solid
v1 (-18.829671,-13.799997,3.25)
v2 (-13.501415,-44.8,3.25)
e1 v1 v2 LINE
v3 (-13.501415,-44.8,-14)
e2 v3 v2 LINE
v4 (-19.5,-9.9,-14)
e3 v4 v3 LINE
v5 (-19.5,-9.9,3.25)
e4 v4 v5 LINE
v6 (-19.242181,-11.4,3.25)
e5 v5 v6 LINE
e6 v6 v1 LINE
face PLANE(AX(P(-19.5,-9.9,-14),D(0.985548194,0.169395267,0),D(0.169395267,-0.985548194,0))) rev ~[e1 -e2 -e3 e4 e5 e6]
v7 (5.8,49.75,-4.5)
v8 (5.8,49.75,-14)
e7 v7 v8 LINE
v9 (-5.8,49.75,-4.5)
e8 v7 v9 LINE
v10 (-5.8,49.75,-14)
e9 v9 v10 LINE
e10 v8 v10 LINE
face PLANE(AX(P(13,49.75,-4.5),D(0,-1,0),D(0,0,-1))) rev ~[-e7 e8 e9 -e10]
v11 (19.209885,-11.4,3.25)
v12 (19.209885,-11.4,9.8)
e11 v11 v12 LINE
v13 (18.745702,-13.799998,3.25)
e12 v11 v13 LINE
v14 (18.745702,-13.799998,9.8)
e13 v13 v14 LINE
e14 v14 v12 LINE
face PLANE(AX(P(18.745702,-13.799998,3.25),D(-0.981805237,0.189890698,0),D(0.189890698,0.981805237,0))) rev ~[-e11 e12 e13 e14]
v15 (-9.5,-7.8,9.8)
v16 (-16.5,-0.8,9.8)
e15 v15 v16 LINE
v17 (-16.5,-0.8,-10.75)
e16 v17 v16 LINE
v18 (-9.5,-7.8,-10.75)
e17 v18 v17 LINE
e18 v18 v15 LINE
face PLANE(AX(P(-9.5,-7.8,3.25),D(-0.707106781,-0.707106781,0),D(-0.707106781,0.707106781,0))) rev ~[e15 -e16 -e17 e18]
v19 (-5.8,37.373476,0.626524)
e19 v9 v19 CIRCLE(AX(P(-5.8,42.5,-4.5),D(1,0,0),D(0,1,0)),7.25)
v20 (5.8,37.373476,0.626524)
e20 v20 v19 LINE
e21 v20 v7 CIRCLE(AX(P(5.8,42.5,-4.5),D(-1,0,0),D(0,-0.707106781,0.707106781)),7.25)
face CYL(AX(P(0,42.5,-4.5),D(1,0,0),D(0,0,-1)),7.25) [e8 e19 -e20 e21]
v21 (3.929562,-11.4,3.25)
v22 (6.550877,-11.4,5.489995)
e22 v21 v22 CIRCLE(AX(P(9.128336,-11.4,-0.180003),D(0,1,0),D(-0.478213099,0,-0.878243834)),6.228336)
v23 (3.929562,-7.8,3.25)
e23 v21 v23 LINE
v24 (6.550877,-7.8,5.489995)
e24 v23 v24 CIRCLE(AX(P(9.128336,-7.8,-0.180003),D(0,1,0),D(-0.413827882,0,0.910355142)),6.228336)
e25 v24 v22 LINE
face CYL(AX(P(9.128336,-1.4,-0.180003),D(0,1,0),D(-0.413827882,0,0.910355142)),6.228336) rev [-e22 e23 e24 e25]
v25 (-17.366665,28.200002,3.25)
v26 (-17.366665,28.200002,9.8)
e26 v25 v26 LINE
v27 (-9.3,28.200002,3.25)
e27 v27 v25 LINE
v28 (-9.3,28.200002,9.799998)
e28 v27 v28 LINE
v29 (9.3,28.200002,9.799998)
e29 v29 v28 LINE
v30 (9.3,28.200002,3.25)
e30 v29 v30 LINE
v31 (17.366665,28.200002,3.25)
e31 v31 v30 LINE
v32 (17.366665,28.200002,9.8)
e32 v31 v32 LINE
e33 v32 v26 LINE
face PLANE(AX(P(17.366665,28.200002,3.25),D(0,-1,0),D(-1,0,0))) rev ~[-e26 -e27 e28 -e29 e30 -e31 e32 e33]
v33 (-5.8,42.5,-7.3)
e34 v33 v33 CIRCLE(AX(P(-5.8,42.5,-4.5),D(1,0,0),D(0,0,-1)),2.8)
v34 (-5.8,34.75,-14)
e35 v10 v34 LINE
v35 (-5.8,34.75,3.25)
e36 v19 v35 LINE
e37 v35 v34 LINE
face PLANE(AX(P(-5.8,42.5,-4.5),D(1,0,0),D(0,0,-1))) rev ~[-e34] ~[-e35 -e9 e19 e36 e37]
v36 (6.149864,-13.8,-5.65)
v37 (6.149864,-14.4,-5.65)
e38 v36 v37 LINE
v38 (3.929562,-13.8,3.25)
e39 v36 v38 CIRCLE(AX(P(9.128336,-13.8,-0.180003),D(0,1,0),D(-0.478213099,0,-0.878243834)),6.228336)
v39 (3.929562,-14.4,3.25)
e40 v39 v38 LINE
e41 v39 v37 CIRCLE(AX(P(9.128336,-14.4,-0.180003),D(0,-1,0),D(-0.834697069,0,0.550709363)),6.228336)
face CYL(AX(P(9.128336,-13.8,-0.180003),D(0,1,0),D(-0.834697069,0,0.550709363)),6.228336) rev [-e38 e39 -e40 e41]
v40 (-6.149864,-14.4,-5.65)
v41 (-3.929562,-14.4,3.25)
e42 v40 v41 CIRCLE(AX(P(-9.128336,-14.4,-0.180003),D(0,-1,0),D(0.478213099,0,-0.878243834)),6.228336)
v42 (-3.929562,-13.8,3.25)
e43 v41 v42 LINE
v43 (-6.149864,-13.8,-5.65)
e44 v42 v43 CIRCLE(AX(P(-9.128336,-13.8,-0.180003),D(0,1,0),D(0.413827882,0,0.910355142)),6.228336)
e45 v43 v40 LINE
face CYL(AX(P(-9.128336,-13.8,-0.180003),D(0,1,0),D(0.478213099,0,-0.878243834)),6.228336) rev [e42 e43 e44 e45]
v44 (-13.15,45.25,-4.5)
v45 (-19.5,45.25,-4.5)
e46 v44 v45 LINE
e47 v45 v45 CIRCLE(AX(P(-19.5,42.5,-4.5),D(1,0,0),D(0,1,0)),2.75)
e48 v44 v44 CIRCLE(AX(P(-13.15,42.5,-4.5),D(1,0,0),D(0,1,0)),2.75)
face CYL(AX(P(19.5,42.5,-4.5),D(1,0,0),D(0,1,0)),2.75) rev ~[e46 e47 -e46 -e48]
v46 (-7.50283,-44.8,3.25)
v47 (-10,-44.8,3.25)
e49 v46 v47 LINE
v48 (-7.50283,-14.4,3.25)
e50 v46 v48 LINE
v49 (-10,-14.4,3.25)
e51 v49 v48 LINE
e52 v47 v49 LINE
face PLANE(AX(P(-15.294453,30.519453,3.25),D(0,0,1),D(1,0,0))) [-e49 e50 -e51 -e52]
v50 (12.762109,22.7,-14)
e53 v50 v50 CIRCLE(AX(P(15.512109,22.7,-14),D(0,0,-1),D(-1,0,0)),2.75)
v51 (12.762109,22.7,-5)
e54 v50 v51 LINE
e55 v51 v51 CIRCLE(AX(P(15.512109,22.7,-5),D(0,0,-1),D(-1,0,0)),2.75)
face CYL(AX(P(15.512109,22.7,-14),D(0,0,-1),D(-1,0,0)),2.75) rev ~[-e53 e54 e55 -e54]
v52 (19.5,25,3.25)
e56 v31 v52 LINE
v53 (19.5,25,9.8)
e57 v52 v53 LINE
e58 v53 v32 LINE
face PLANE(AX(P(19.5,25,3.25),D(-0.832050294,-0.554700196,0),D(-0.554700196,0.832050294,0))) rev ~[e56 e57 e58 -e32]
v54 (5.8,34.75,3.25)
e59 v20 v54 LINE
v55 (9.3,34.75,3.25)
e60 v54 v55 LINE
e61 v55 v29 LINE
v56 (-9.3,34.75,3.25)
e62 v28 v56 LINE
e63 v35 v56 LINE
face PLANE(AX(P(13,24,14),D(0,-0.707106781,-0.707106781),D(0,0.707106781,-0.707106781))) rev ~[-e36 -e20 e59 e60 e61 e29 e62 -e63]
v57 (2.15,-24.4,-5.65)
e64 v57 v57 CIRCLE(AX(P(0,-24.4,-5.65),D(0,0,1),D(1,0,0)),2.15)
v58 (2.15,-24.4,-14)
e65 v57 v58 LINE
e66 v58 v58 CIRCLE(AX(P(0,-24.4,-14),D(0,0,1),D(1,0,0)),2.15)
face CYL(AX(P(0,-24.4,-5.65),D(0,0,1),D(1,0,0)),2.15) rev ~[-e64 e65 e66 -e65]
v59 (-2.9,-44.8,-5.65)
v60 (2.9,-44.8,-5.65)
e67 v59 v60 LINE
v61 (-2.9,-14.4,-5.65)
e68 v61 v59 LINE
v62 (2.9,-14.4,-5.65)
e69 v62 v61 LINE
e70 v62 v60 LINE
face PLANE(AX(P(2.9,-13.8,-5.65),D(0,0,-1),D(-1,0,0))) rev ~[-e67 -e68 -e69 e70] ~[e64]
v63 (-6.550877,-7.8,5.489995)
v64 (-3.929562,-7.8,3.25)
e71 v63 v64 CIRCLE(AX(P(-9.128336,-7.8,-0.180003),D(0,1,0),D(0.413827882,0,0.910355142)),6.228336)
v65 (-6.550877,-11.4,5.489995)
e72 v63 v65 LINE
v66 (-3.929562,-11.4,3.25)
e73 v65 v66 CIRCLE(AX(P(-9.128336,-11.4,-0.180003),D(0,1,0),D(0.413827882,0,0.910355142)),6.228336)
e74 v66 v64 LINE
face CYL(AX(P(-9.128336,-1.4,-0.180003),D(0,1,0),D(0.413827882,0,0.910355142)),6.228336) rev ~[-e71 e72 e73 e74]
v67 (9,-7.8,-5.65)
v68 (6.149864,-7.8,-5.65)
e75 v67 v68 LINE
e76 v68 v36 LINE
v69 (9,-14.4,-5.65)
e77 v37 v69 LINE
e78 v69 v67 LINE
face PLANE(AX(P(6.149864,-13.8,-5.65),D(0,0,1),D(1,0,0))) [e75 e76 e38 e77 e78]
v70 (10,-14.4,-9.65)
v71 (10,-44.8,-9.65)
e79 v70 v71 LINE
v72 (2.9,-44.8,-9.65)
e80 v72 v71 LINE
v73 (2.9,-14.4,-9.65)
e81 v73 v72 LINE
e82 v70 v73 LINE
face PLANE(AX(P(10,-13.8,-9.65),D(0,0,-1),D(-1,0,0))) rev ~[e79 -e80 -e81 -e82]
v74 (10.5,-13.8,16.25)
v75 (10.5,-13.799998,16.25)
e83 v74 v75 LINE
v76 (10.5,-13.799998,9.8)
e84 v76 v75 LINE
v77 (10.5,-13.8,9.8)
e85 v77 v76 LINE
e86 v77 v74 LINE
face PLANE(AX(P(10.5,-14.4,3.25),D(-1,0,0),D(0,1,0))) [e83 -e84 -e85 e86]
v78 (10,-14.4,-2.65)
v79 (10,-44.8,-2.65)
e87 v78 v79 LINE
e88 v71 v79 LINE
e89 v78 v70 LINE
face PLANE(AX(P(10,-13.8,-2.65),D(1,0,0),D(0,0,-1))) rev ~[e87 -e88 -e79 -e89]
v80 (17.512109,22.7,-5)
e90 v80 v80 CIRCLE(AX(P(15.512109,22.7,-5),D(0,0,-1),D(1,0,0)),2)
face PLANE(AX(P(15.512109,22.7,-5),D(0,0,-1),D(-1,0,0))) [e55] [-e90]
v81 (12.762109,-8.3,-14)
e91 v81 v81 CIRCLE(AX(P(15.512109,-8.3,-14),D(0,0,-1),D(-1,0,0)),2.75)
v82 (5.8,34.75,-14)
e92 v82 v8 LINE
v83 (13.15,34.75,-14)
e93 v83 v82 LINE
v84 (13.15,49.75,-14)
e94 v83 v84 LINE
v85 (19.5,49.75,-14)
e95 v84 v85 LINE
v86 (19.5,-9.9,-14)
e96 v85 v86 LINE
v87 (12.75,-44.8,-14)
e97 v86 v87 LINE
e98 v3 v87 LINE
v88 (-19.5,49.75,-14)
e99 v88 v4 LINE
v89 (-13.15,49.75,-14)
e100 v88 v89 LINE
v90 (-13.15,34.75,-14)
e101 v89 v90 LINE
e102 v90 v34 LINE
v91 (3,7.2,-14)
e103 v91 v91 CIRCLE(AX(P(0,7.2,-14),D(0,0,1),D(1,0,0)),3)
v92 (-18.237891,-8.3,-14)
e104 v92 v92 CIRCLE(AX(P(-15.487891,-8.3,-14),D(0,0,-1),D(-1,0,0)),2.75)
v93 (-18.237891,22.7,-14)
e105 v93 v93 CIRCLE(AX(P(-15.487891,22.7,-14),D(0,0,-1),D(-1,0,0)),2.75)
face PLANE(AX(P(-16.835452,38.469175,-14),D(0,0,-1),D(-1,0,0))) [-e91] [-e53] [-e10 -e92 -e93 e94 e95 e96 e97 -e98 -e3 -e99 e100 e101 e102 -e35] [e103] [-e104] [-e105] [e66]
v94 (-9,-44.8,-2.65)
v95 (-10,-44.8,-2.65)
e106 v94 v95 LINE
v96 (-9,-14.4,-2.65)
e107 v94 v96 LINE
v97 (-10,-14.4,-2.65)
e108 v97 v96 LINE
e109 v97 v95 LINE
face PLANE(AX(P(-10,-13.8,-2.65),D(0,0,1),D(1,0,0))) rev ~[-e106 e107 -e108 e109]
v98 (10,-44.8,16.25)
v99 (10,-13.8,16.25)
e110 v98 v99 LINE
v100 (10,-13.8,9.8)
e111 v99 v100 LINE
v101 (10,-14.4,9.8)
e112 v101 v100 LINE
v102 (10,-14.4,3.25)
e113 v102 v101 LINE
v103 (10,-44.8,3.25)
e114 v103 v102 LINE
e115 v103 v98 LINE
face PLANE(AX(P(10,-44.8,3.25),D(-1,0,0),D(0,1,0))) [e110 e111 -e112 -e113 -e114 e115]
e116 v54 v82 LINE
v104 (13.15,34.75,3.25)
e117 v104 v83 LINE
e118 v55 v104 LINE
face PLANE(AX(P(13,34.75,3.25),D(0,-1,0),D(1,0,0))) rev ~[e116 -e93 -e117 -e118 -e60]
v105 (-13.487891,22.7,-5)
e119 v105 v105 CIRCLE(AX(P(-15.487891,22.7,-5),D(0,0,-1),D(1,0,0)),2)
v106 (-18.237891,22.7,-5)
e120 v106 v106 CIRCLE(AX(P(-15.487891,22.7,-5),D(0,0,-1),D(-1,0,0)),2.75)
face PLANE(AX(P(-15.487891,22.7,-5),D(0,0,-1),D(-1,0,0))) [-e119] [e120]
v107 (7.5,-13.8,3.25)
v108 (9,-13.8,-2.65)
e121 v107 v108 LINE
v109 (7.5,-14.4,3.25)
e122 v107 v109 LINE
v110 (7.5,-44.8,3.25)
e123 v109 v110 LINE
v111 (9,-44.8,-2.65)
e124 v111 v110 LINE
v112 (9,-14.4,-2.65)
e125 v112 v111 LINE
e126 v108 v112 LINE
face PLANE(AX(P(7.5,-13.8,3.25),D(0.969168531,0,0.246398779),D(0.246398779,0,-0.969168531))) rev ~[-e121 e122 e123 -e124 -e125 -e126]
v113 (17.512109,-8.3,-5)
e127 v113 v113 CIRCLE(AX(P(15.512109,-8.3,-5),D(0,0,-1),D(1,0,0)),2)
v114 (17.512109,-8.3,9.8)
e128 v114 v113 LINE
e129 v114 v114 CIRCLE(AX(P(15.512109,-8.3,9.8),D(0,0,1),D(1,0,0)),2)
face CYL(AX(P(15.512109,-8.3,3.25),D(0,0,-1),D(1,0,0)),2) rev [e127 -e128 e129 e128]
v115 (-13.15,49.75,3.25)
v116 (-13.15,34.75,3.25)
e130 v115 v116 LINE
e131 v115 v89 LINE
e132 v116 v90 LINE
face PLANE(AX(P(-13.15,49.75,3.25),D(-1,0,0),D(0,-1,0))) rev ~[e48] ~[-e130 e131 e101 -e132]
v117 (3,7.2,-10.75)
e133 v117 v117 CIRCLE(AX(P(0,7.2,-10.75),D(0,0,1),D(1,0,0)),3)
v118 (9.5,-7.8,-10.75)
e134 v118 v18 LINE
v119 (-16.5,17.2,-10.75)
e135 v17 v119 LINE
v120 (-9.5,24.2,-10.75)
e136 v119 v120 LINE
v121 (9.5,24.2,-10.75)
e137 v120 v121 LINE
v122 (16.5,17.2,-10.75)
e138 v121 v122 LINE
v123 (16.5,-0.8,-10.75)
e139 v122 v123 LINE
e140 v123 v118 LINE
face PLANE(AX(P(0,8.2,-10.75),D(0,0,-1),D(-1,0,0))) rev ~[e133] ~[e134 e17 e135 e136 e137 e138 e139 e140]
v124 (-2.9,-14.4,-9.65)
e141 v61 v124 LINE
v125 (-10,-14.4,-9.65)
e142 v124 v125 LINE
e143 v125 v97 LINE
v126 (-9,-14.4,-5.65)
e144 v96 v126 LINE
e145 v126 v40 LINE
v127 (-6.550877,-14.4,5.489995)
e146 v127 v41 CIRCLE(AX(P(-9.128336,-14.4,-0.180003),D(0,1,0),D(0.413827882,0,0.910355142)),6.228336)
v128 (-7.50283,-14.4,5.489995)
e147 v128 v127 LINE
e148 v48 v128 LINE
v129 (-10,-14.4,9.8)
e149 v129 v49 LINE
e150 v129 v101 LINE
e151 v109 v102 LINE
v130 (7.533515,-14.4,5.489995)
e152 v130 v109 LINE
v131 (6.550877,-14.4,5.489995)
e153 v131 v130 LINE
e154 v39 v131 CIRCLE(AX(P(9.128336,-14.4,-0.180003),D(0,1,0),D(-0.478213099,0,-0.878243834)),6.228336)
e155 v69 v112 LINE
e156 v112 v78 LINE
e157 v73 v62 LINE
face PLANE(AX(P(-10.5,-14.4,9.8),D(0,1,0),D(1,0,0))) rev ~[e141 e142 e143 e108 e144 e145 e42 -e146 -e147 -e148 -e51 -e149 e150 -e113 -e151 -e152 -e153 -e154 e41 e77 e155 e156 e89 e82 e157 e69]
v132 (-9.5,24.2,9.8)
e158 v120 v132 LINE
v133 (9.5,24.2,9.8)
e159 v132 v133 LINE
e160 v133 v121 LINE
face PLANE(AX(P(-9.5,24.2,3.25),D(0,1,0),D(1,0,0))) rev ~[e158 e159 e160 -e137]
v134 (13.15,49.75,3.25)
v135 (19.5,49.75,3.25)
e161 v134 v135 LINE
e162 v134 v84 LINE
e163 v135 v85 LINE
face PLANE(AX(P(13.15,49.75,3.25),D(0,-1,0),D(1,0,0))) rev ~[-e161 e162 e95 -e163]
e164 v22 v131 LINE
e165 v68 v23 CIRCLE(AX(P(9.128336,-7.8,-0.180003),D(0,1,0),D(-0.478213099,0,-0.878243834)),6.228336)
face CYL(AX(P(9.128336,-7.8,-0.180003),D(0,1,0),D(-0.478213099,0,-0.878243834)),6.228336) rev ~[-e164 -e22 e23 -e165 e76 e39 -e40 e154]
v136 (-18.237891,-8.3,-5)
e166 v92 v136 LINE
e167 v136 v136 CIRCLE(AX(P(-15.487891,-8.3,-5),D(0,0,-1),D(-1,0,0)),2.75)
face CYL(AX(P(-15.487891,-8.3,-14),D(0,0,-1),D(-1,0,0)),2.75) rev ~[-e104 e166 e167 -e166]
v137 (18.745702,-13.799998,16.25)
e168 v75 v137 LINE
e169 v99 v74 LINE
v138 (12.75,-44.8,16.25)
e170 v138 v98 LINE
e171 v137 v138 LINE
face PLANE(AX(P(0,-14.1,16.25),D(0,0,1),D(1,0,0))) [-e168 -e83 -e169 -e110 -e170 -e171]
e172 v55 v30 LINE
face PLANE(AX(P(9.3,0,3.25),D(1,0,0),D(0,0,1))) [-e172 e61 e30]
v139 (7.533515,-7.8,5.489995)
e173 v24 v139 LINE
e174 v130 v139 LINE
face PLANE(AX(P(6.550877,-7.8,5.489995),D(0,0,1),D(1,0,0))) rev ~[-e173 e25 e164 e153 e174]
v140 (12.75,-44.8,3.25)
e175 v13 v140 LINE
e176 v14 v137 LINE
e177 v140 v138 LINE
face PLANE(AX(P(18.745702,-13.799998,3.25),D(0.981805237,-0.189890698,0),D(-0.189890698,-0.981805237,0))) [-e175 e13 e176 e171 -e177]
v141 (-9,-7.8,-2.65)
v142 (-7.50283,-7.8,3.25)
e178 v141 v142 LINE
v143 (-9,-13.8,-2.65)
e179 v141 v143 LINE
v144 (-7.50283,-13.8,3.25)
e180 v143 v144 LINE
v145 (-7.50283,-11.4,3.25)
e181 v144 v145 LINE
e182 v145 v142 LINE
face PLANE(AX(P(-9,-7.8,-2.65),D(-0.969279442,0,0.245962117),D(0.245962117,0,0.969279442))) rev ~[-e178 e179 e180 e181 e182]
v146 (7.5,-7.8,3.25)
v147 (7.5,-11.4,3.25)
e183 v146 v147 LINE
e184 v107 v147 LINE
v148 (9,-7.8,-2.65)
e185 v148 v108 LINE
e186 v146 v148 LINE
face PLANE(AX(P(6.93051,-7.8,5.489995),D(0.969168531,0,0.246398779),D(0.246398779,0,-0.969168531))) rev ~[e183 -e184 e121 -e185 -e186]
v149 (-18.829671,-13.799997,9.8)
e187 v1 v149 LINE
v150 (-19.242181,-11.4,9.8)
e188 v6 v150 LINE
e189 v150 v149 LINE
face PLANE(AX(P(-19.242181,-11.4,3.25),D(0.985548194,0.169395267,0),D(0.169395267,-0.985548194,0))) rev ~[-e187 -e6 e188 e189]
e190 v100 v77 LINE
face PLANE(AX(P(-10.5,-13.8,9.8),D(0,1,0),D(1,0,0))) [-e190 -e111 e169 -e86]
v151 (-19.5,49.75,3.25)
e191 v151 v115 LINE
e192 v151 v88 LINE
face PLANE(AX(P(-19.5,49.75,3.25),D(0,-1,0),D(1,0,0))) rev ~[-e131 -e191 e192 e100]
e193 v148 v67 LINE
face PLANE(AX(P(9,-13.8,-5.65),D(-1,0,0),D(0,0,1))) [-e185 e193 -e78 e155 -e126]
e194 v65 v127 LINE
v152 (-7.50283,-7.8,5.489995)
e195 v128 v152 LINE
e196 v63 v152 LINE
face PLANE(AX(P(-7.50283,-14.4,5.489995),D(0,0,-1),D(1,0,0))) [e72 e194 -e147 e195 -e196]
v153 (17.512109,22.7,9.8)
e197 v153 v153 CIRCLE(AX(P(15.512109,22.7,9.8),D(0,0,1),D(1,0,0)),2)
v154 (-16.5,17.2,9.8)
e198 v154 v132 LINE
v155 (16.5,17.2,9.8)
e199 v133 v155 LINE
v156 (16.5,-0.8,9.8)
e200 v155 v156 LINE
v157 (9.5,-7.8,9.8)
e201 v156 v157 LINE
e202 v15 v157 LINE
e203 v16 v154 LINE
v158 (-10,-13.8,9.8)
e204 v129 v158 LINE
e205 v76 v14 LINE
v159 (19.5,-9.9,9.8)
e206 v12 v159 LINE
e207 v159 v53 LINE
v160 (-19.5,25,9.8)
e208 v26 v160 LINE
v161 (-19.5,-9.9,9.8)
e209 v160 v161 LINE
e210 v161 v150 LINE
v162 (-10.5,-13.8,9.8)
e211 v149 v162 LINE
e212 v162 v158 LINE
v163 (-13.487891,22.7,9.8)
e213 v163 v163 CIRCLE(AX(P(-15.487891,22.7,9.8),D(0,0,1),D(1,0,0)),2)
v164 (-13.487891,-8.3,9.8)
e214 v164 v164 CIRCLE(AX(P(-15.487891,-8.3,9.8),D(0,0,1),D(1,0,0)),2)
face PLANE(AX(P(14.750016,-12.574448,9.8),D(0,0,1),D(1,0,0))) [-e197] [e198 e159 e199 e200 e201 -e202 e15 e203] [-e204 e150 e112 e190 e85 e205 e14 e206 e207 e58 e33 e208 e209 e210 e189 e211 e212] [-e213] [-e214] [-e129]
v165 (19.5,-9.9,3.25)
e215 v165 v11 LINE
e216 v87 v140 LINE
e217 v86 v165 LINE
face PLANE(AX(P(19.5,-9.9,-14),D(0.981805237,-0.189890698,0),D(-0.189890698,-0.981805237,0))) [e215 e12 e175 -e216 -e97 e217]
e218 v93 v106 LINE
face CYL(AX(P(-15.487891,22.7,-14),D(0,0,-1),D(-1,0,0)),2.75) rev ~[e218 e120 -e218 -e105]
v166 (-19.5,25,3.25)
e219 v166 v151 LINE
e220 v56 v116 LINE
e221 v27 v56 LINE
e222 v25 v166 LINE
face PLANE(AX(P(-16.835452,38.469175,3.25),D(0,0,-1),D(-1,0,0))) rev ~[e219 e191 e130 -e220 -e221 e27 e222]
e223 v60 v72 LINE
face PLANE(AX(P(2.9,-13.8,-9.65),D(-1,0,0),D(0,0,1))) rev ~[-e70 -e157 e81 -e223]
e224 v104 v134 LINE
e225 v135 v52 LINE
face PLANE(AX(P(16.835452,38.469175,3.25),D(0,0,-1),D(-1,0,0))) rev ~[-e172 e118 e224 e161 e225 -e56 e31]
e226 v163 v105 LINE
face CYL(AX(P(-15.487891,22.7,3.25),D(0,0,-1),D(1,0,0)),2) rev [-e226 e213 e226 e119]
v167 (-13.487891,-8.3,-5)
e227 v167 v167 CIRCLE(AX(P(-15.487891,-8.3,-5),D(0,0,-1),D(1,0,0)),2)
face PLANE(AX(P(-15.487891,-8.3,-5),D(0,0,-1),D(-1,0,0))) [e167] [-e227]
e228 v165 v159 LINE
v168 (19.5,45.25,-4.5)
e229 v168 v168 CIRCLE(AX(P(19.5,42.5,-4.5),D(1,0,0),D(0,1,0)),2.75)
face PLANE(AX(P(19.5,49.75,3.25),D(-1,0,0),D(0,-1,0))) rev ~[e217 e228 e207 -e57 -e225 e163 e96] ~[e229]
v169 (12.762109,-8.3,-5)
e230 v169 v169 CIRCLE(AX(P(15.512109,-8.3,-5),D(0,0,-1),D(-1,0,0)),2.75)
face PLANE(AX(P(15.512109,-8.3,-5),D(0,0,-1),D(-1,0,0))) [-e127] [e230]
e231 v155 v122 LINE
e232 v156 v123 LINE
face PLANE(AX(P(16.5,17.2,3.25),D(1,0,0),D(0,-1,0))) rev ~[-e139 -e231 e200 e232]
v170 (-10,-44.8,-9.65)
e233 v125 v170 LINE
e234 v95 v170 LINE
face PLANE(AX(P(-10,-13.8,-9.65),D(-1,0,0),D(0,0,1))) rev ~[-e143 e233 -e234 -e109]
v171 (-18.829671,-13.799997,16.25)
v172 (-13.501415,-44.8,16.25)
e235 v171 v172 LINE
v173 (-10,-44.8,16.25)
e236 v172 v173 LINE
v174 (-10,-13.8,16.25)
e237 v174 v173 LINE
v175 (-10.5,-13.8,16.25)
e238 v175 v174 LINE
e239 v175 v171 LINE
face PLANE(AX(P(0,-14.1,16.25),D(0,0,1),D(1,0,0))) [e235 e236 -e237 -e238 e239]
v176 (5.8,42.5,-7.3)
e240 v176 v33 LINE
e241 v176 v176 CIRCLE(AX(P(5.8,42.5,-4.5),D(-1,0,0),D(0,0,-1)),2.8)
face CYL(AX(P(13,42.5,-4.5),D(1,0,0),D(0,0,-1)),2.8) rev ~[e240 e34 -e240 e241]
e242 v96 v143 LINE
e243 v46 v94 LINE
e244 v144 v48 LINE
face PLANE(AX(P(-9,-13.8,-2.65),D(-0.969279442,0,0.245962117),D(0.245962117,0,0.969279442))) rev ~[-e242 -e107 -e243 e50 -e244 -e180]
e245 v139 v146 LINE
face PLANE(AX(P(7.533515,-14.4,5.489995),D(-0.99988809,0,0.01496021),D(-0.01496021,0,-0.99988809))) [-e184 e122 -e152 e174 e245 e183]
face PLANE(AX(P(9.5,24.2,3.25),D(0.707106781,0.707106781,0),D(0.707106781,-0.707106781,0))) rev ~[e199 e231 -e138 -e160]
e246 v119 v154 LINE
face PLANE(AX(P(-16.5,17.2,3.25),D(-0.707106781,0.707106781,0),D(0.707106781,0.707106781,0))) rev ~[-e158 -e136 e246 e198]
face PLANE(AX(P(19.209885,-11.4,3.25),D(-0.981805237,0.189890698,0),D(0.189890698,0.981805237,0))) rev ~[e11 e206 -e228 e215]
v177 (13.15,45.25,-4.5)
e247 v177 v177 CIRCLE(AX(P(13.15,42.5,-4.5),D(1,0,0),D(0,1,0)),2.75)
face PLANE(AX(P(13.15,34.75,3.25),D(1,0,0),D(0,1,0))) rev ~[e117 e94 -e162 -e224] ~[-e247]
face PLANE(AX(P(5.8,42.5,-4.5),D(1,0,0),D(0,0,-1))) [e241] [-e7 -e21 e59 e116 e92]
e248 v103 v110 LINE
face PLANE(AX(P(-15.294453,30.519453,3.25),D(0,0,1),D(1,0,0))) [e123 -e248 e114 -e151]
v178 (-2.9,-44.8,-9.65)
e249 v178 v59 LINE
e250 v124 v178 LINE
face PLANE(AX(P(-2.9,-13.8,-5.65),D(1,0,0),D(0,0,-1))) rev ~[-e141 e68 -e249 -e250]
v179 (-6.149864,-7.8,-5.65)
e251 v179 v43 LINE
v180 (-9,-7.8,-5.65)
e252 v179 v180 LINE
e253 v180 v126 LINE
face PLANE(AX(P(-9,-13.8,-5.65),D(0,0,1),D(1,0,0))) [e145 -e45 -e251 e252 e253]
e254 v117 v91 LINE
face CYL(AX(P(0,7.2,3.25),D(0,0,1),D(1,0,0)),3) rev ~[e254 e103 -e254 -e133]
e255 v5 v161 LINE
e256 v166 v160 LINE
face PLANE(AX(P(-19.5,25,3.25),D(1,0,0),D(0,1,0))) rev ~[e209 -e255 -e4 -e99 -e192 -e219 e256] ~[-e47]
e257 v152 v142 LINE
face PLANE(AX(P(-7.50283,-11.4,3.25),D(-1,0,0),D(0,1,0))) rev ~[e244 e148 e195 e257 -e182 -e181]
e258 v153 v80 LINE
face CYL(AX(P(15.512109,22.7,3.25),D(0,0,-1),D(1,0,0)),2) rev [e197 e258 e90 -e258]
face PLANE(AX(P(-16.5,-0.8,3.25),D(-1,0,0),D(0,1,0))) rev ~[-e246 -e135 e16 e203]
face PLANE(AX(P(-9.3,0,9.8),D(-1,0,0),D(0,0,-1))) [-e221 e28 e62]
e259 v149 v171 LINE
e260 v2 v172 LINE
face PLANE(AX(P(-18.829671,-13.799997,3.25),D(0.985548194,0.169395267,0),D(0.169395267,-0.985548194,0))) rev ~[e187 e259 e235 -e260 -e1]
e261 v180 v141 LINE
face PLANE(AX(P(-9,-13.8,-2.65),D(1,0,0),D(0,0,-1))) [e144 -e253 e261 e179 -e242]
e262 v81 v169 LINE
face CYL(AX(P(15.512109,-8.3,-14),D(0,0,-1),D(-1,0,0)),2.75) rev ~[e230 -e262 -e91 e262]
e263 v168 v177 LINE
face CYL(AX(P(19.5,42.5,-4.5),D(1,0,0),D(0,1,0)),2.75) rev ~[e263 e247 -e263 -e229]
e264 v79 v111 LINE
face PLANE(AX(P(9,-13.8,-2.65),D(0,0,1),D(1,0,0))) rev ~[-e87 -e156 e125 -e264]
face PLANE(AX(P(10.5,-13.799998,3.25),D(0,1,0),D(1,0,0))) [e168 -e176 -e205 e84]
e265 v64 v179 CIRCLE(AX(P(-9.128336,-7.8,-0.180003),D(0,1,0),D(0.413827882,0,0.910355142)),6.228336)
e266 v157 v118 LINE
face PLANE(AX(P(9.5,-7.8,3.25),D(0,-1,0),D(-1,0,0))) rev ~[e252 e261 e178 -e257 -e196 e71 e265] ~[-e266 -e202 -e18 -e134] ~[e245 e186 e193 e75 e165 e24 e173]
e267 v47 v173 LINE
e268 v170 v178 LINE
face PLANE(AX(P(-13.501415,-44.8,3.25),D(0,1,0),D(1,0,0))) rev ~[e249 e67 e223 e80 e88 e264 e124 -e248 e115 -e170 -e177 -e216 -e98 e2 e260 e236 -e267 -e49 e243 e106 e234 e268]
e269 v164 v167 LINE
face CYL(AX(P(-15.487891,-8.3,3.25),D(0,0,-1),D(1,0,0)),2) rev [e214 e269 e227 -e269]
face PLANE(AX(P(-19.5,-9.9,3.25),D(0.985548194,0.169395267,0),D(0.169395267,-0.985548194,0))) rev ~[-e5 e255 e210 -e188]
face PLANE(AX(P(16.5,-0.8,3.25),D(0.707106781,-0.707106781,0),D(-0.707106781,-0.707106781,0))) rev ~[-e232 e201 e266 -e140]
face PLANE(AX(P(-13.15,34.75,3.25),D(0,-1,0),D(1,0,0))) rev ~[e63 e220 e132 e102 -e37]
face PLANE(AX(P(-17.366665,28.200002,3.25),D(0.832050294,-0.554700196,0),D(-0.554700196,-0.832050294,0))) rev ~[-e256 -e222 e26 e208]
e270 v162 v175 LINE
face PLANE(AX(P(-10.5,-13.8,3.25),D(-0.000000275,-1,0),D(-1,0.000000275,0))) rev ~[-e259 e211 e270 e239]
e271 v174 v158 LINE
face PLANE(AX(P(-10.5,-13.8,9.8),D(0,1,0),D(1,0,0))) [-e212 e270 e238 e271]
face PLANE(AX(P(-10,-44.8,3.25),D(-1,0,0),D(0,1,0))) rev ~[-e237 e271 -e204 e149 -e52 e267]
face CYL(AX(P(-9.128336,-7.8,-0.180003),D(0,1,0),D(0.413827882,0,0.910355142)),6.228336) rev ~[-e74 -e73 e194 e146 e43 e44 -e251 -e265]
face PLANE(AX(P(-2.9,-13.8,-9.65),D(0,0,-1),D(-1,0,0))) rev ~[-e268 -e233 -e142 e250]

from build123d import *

# Parameters (mm, degrees)
SKETCH1_W                = 26
SKETCH1_H                = 28
BOSS_EXTRUDE1_DEPTH      = 50
CUT_EXTRUDE3_DEPTH       = 39
SKETCH14_R               = 7.25
BOSS_EXTRUDE7_DEPTH      = 5.8
SKETCH15_R               = 2.8
CUT_EXTRUDE4_DEPTH       = 28
CUT_EXTRUDE7_DEPTH       = 54.29223677
SKETCH19_R               = 2.15
CUT_EXTRUDE9_DEPTH       = 50
SKETCH20_R               = 4
CUT_EXTRUDE10_DEPTH      = 3
ESQUISSE1_W              = 17.371158736
ESQUISSE1_H              = 10.855066753
ENL_V_MAT_EXTRU_1_DEPTH  = 7.5
ESQUISSE2_R              = 1.7
ENL_V_MAT_EXTRU_2_DEPTH  = 7.5
ENL_V_START              = -7.2
ESQUISSE3_W              = 17.25
ESQUISSE3_H              = 8.423951408
ENL_V_MAT_EXTRU_3_DEPTH  = 7.2
ESQUISSE4_W              = 39
ESQUISSE4_H              = 42
BOSS_EXTRU_2_DEPTH       = 17.25
ESQUISSE5_W              = 29.115254442
ESQUISSE5_H              = 34.676509426
ENL_V_MAT_EXTRU_4_DEPTH  = 19
ESQUISSE6_R              = 3
ENL_V_MAT_EXTRU_5_DEPTH  = 19
ESQUISSE7_R              = 9.530246906
ENL_V_MAT_EXTRU_6_DEPTH  = 14
ENL_V_MAT_EXTRU_7_DEPTH  = 14
ESQUISSE10_W             = 39
ESQUISSE10_H             = 17.25
BOSS_EXTRU_5_DEPTH       = 31
ENL_V_MAT_EXTRU_9_DEPTH  = 32
ENL_V_START_2            = -17.25
ESQUISSE16_R             = 2
ENL_V_MAT_EXTRU_11_DEPTH = 17.25
ESQUISSE17_R             = 2.75
ENL_V_MAT_EXTRU_12_DEPTH = 9
ESQUISSE27_W             = 21
ESQUISSE27_H             = 3
BOSS_EXTRU_24_DEPTH      = 6.55
BOSS_EXTRU_7_DEPTH       = 17.25
ENL_V_MAT_EXTRU_14_DEPTH = 17.3
ENL_V_MAT_EXTRU_16_DEPTH = 17.25
ENL_V_MAT_EXTRU_38_DEPTH = 11
ENL_V_MAT_EXTRU_39_DEPTH = 5
BOSS_EXTRU_30_DEPTH      = 0.6
ESQUISSE45_R             = 2.15
ENL_V_MAT_EXTRU_40_DEPTH = 9
ESQUISSE40_R             = 2
BOSS_EXTRU_37_DEPTH      = 6.55
BOSS_EXTRU_35_DEPTH      = 17.25
BOSS_EXTRU_36_DEPTH      = 17.25
ESQUISSE50_R             = 2.75
ENL_V_MAT_EXTRU_42_DEPTH = 49
ESQUISSE52_W             = 15.002829597
ESQUISSE52_H             = 3.6
BOSS_EXTRU_38_DEPTH      = 6.55
ENL_V_START_3            = -10
ENL_V_MAT_EXTRU_43_DEPTH = 10
BOSS_EXTRU_39_DEPTH      = 13
ESQUISSE55_W             = 21
ESQUISSE55_H             = 0.60000033
BOSS_EXTRU_40_DEPTH      = 6.45
ESQUISSE61_W             = 20
ESQUISSE61_H             = 3.13607345
ENL_V_MAT_EXTRU_44_DEPTH = 6.45
BOSS_EXTRU_41_DEPTH      = 6.55


with BuildPart() as part:
    # Sketch1 → Boss-Extrude1 (new body)
    with BuildSketch(Plane(origin=(0, 0, 0), x_dir=(1, 0, 0), z_dir=(0, 1, 0))):
        Rectangle(SKETCH1_W, SKETCH1_H)
    extrude(amount=BOSS_EXTRUDE1_DEPTH)

    # Sketch7 → Cut-Extrude3 (cut)
    with BuildSketch(Plane(origin=(13, 0, 0), x_dir=(0, 0, -1), z_dir=(1, 0, 0))):
        with BuildLine():
            Line((4.5, 50), (-14, 50))
            Line((-14, 50), (-14, 24))
            Line((-14, 24), (-0.626524164, 37.373475836))
            ThreePointArc((-0.626524164, 37.373475836), (11.198126611, 39.725545115), (4.5, 49.75))
            Line((4.5, 49.75), (14, 49.75))
            Line((14, 49.75), (14, 50))
            Line((14, 50), (4.5, 50))
        make_face()
    extrude(amount=-CUT_EXTRUDE3_DEPTH, mode=Mode.SUBTRACT)

    # Sketch14 → Boss-Extrude7 (add, symmetric)
    with BuildSketch(Plane(origin=(0, 0, 0), x_dir=(0, 0, -1), z_dir=(1, 0, 0))):
        with Locations((4.5, 42.5)):
            Circle(SKETCH14_R)
    boss_extrude7 = extrude(amount=BOSS_EXTRUDE7_DEPTH, both=True)

    # Symétrie1: Boss-Extrude7 across plane
    add(boss_extrude7.mirror(Plane(origin=(0, 0, 0), x_dir=(0, 0, 1), z_dir=(1, 0, 0))))

    # Sketch15 → Cut-Extrude4 (cut)
    with BuildSketch(Plane(origin=(13, 0, 0), x_dir=(0, 0, -1), z_dir=(1, 0, 0))):
        with Locations((4.5, 42.5)):
            Circle(SKETCH15_R)
    extrude(amount=-CUT_EXTRUDE4_DEPTH, mode=Mode.SUBTRACT)

    # Sketch17 → Cut-Extrude7 (cut, through all)
    with BuildSketch(Plane.XZ):
        Polygon((-9.3, 3.25), (-13, 3.25), (-13, 14), (13, 14), (13, 3.25), (9.3, 3.25), (9.3, 9.8), (-9.3, 9.8), align=None)
    extrude(amount=-CUT_EXTRUDE7_DEPTH, mode=Mode.SUBTRACT)

    # Sketch19 → Cut-Extrude9 (cut)
    with BuildSketch(Plane(origin=(0, 0, -14), x_dir=(-1, 0, 0), z_dir=(0, 0, -1))):
        with Locations((0, 15)):
            Circle(SKETCH19_R)
    extrude(amount=-CUT_EXTRUDE9_DEPTH, mode=Mode.SUBTRACT)

    # Sketch20 → Cut-Extrude10 (cut)
    with BuildSketch(Plane(origin=(0, 0, -14), x_dir=(-1, 0, 0), z_dir=(0, 0, -1))):
        with Locations((0, 15)):
            Circle(SKETCH20_R)
    extrude(amount=-CUT_EXTRUDE10_DEPTH, mode=Mode.SUBTRACT)

    # Esquisse1 → Enlèv. mat.-Extru.1 (cut)
    with BuildSketch(Plane(origin=(0, 49.75, 0), x_dir=(1, 0, 0), z_dir=(0, 1, 0))):
        with Locations((-14.485579368, 9.927533377)):
            Rectangle(ESQUISSE1_W, ESQUISSE1_H)
    enl_v_mat_extru_1 = extrude(amount=-ENL_V_MAT_EXTRU_1_DEPTH, mode=Mode.SUBTRACT)

    # Symétrie3: Enlèv. mat.-Extru.1 across plane
    add(enl_v_mat_extru_1.mirror(Plane(origin=(0, 0, 0), x_dir=(0, 0, 1), z_dir=(1, 0, 0))), mode=Mode.SUBTRACT)

    # Esquisse2 → Enlèv. mat.-Extru.2 (cut)
    with BuildSketch(Plane.ZY.offset(13)):
        with Locations((-8, 14.2)):
            Circle(ESQUISSE2_R)
        with Locations((-3, 5.2)):
            Circle(ESQUISSE2_R)
    enl_v_mat_extru_2 = extrude(amount=-ENL_V_MAT_EXTRU_2_DEPTH, mode=Mode.SUBTRACT)

    # Symétrie2: Enlèv. mat.-Extru.2 across plane
    add(enl_v_mat_extru_2.mirror(Plane(origin=(0, 0, 0), x_dir=(0, 0, 1), z_dir=(1, 0, 0))), mode=Mode.SUBTRACT)

    # Esquisse3 → Enlèv. mat.-Extru.3 (cut)
    with BuildSketch(Plane(origin=(13, 0, 0), x_dir=(0, 0, -1), z_dir=(1, 0, 0)).offset(ENL_V_START)):
        with Locations((5.375, 38.961975704)):
            Rectangle(ESQUISSE3_W, ESQUISSE3_H)
    enl_v_mat_extru_3 = extrude(amount=ENL_V_MAT_EXTRU_3_DEPTH, mode=Mode.SUBTRACT)

    # Symétrie4: Enlèv. mat.-Extru.3 across plane
    add(enl_v_mat_extru_3.mirror(Plane(origin=(0, 0, 0), x_dir=(0, 0, 1), z_dir=(1, 0, 0))), mode=Mode.SUBTRACT)

    # Esquisse4 → Boss.-Extru.2 (add)
    with BuildSketch(Plane.XY.offset(3.25)):
        with Locations((0, 7.2)):
            Rectangle(ESQUISSE4_W, ESQUISSE4_H)
    extrude(amount=-BOSS_EXTRU_2_DEPTH)

    # Esquisse5 → Enlèv. mat.-Extru.4 (cut)
    with BuildSketch(Plane.XY.offset(3.25)):
        with Locations((1.557627221, 10.861745287)):
            Rectangle(ESQUISSE5_W, ESQUISSE5_H)
    extrude(amount=ENL_V_MAT_EXTRU_4_DEPTH, mode=Mode.SUBTRACT)

    # Esquisse6 → Enlèv. mat.-Extru.5 (cut)
    with BuildSketch(Plane.XY.offset(3.25)):
        with Locations((0, 7.2)):
            Circle(ESQUISSE6_R)
    extrude(amount=-ENL_V_MAT_EXTRU_5_DEPTH, mode=Mode.SUBTRACT)

    # Esquisse7 → Enlèv. mat.-Extru.6 (cut)
    with BuildSketch(Plane.XY.offset(3.25)):
        with Locations((0, 7.2)):
            Circle(ESQUISSE7_R)
    extrude(amount=-ENL_V_MAT_EXTRU_6_DEPTH, mode=Mode.SUBTRACT)

    # Esquisse8 → Enlèv. mat.-Extru.7 (cut)
    with BuildSketch(Plane.XY.offset(3.25)):
        Polygon((-9.5, 24.2), (9.5, 24.2), (16.5, 17.2), (16.5, -0.8), (9.5, -7.8), (-9.5, -7.8), (-16.5, -0.8), (-16.5, 17.2), align=None)
    extrude(amount=-ENL_V_MAT_EXTRU_7_DEPTH, mode=Mode.SUBTRACT)

    # Esquisse10 → Boss.-Extru.5 (add)
    with BuildSketch(Plane.XZ.offset(13.8)):
        with Locations((0, -5.375)):
            Rectangle(ESQUISSE10_W, ESQUISSE10_H)
    extrude(amount=BOSS_EXTRU_5_DEPTH)

    # Sketch3 → Enlèv. mat.-Extru.9 (cut)
    with BuildSketch(Plane(origin=(0, -13.8, 0), x_dir=(1, 0, 0), z_dir=(0, 1, 0))):
        Polygon((10, 2.65), (10, 9.65), (2.9, 9.65), (2.9, 5.65), (-2.9, 5.65), (-2.9, 9.65), (-10, 9.65), (-10, 2.65), (-9, 2.65), (-7.502829597, -3.25), (-10, -3.25), (-10, -14.961698536), (10, -14.961698536), (10, -3.25), (7.5, -3.25), (9, 2.65), align=None)
    extrude(amount=-ENL_V_MAT_EXTRU_9_DEPTH, mode=Mode.SUBTRACT)

    # Esquisse16 → Enlèv. mat.-Extru.11 (cut)
    with BuildSketch(Plane.XY.offset(3.25).offset(ENL_V_START_2)):
        with Locations((15.512108792, 22.7)):
            Circle(ESQUISSE16_R)
        with Locations((-15.487891208, 22.7)):
            Circle(ESQUISSE16_R)
        with Locations((15.512108792, -8.3)):
            Circle(ESQUISSE16_R)
        with Locations((-15.487891208, -8.3)):
            Circle(ESQUISSE16_R)
    extrude(amount=ENL_V_MAT_EXTRU_11_DEPTH, mode=Mode.SUBTRACT)

    # Esquisse17 → Enlèv. mat.-Extru.12 (cut)
    with BuildSketch(Plane(origin=(0, 0, -14), x_dir=(-1, 0, 0), z_dir=(0, 0, -1))):
        with Locations((-15.512108792, 22.7)):
            Circle(ESQUISSE17_R)
        with Locations((15.487891208, 22.7)):
            Circle(ESQUISSE17_R)
        with Locations((-15.512108792, -8.3)):
            Circle(ESQUISSE17_R)
        with Locations((15.487891208, -8.3)):
            Circle(ESQUISSE17_R)
    extrude(amount=-ENL_V_MAT_EXTRU_12_DEPTH, mode=Mode.SUBTRACT)

    # Esquisse27 → Boss.-Extru.24 (add)
    with BuildSketch(Plane.XY.offset(3.25)):
        with Locations((0, -12.9)):
            Rectangle(ESQUISSE27_W, ESQUISSE27_H)
    extrude(amount=BOSS_EXTRU_24_DEPTH)

    # Esquisse19 → Boss.-Extru.7 (add)
    with BuildSketch(Plane.XY.offset(3.25)):
        Polygon((-13, 34.75), (-19.5, 28.2), (-13, 28.2), align=None)
        Polygon((13, 34.75), (19.5, 28.2), (13, 28.2), align=None)
    extrude(amount=-BOSS_EXTRU_7_DEPTH)

    # Esquisse20 → Enlèv. mat.-Extru.14 (cut)
    with BuildSketch(Plane.XY.offset(3.25)):
        Polygon((-13, 34.75), (-19.5, 25), (-25.267044085, 25), (-36.830319762, 37.531631788), align=None)
    enl_v_mat_extru_14 = extrude(amount=-ENL_V_MAT_EXTRU_14_DEPTH, mode=Mode.SUBTRACT)

    # Symétrie5: Enlèv. mat.-Extru.14 across plane
    add(enl_v_mat_extru_14.mirror(Plane(origin=(0, 0, 0), x_dir=(0, 0, 1), z_dir=(1, 0, 0))), mode=Mode.SUBTRACT)

    # Esquisse23 → Enlèv. mat.-Extru.16 (cut)
    with BuildSketch(Plane.XY.offset(3.25).offset(ENL_V_START_2)):
        Polygon((-19.5, -9.9), (-13.501414798, -44.8), (-19.5, -53.715016997), (-34.841721145, -40.42179861), align=None)
        Polygon((19.5, -9.9), (12.75, -44.8), (15.434620089, -57.994993548), (31.637048755, -53.482911652), align=None)
    extrude(amount=ENL_V_MAT_EXTRU_16_DEPTH, mode=Mode.SUBTRACT)

    # Esquisse36 → Enlèv. mat.-Extru.38 (cut)
    with BuildSketch(Plane.XZ.offset(7.8)):
        with BuildLine():
            Line((9, -2.65), (9, -5.65))
            Line((9, -5.65), (6.149863907, -5.65))
            ThreePointArc((6.149863907, -5.65), (2.904031499, 0.044057116), (6.550876644, 5.489994589))
            Line((6.550876644, 5.489994589), (6.93050985, 5.489994589))
            Line((6.93050985, 5.489994589), (9, -2.65))
        make_face()
        with BuildLine():
            Line((-6.149863907, -5.65), (-9, -5.65))
            Line((-9, -5.65), (-9, -2.65))
            Line((-9, -2.65), (-6.934413732, 5.489994589))
            Line((-6.934413732, 5.489994589), (-6.550876644, 5.489994589))
            ThreePointArc((-6.550876644, 5.489994589), (-2.904031499, 0.044057116), (-6.149863907, -5.65))
        make_face()
    extrude(amount=ENL_V_MAT_EXTRU_38_DEPTH, mode=Mode.SUBTRACT)

    # Esquisse43 → Enlèv. mat.-Extru.39 (cut)
    with BuildSketch(Plane(origin=(0, -14.4, 0), x_dir=(-1, 0, 0), z_dir=(0, -1, 0))):
        Polygon((-6.93050985, -5.489994589), (-7.533514539, -5.489994589), (-7.5, -3.25), align=None)
        Polygon((7.502829597, -3.25), (7.502829597, -5.489994589), (6.934413732, -5.489994589), align=None)
    extrude(amount=-ENL_V_MAT_EXTRU_39_DEPTH, mode=Mode.SUBTRACT)

    # Esquisse44 → Boss.-Extru.30 (add)
    with BuildSketch(Plane.XZ.offset(13.8)):
        with BuildLine():
            Line((-9, -5.65), (-6.149863907, -5.65))
            ThreePointArc((-6.149863907, -5.65), (-3.085212662, -1.687593328), (-3.929562121, 3.25))
            Line((-3.929562121, 3.25), (3.929562121, 3.25))
            ThreePointArc((3.929562121, 3.25), (3.085212662, -1.687593328), (6.149863907, -5.65))
            Line((6.149863907, -5.65), (9, -5.65))
            Line((9, -5.65), (9, -2.65))
            Line((9, -2.65), (10, -2.65))
            Line((10, -2.65), (10, -9.65))
            Line((10, -9.65), (2.9, -9.65))
            Line((2.9, -9.65), (2.9, -5.65))
            Line((2.9, -5.65), (-2.9, -5.65))
            Line((-2.9, -5.65), (-2.9, -9.65))
            Line((-2.9, -9.65), (-10, -9.65))
            Line((-10, -9.65), (-10, -2.65))
            Line((-10, -2.65), (-9, -2.65))
            Line((-9, -2.65), (-9, -5.65))
        make_face()
    extrude(amount=BOSS_EXTRU_30_DEPTH)

    # Esquisse45 → Enlèv. mat.-Extru.40 (cut)
    with BuildSketch(Plane.XY.offset(-5.65)):
        with Locations((0, -24.4)):
            Circle(ESQUISSE45_R)
    extrude(amount=-ENL_V_MAT_EXTRU_40_DEPTH, mode=Mode.SUBTRACT)

    # Esquisse40 → Boss.-Extru.37 (add)
    with BuildSketch(Plane.XY.offset(3.25)):
        Polygon((17.36666519, 28.200002216), (-17.36666519, 28.200002216), (-19.5, 25), (-19.5, -9.9), (-19.242181152, -11.4), (-10.5, -11.4), (-7.502829597, -11.4), (-7.502829597, -7.8), (-9.5, -7.8), (-16.5, -0.8), (-16.5, 17.2), (-9.5, 24.2), (9.5, 24.2), (16.5, 17.2), (16.5, -0.8), (9.5, -7.8), (7.5, -7.8), (7.5, -11.4), (10.5, -11.4), (19.209885387, -11.4), (19.5, -9.9), (19.5, 25), align=None)
        with Locations((-15.487891208, 22.7)):
            Circle(ESQUISSE40_R, mode=Mode.SUBTRACT)
        with Locations((-15.487891208, -8.3)):
            Circle(ESQUISSE40_R, mode=Mode.SUBTRACT)
        with Locations((15.512108792, -8.3)):
            Circle(ESQUISSE40_R, mode=Mode.SUBTRACT)
        with Locations((15.512108792, 22.7)):
            Circle(ESQUISSE40_R, mode=Mode.SUBTRACT)
    extrude(amount=BOSS_EXTRU_37_DEPTH)

    # Esquisse48 → Boss.-Extru.35 (add)
    with BuildSketch(Plane.XY.offset(3.25)):
        Polygon((13.15, 34.75), (13.15, 49.75), (19.5, 49.75), (19.5, 25), (13, 34.75), align=None)
    extrude(amount=-BOSS_EXTRU_35_DEPTH)

    # Esquisse51 → Boss.-Extru.36 (add)
    with BuildSketch(Plane.XY.offset(3.25)):
        Polygon((-19.5, 25), (-19.5, 49.75), (-13.15, 49.75), (-13.15, 34.75), (-13, 34.75), align=None)
    extrude(amount=-BOSS_EXTRU_36_DEPTH)

    # Esquisse50 → Enlèv. mat.-Extru.42 (cut)
    with BuildSketch(Plane(origin=(19.5, 0, 0), x_dir=(0, 0, -1), z_dir=(1, 0, 0))):
        with Locations(Location((4.5, 42.5, 0), (0, 0, 90))):
            Circle(ESQUISSE50_R)
    extrude(amount=-ENL_V_MAT_EXTRU_42_DEPTH, mode=Mode.SUBTRACT)

    # Esquisse52 → Boss.-Extru.38 (add)
    with BuildSketch(Plane.XY.offset(9.8)):
        with Locations((-0.001414798, -9.6)):
            Rectangle(ESQUISSE52_W, ESQUISSE52_H)
    extrude(amount=-BOSS_EXTRU_38_DEPTH)

    # Esquisse53 → Enlèv. mat.-Extru.43 (cut)
    with BuildSketch(Plane.XZ.offset(11.4).offset(ENL_V_START_3)):
        with BuildLine():
            Line((7.5, 3.25), (7.533514539, 5.489994589))
            Line((7.533514539, 5.489994589), (6.550876644, 5.489994589))
            ThreePointArc((6.550876644, 5.489994589), (5.082122349, 4.555007585), (3.929562121, 3.25))
            Line((3.929562121, 3.25), (7.5, 3.25))
        make_face()
        with BuildLine():
            Line((-7.502829597, 5.489994589), (-6.550876644, 5.489994589))
            ThreePointArc((-6.550876644, 5.489994589), (-5.082122349, 4.555007585), (-3.929562121, 3.25))
            Line((-3.929562121, 3.25), (-7.502829597, 3.25))
            Line((-7.502829597, 3.25), (-7.502829597, 5.489994589))
        make_face()
    extrude(amount=ENL_V_MAT_EXTRU_43_DEPTH, mode=Mode.SUBTRACT)

    # Esquisse54 → Boss.-Extru.39 (add)
    with BuildSketch(Plane.XY.offset(3.25)):
        Polygon((-10.5, -13.79999967), (-18.829671445, -13.799997383), (-13.501414798, -44.8), (-10, -44.8), (-10, -14.4), (-10.5, -14.4), align=None)
        Polygon((10, -14.4), (10.5, -14.4), (10.5, -13.799997784), (18.745702434, -13.799997784), (12.75, -44.8), (10, -44.8), align=None)
    extrude(amount=BOSS_EXTRU_39_DEPTH)

    # Esquisse55 → Boss.-Extru.40 (add)
    with BuildSketch(Plane.XY.offset(9.8)):
        with Locations((0, -14.099999835)):
            Rectangle(ESQUISSE55_W, ESQUISSE55_H)
    extrude(amount=BOSS_EXTRU_40_DEPTH)

    # Esquisse61 → Enlèv. mat.-Extru.44 (cut)
    with BuildSketch(Plane.XY.offset(16.25)):
        with Locations((0, -12.831963275)):
            Rectangle(ESQUISSE61_W, ESQUISSE61_H)
    extrude(amount=-ENL_V_MAT_EXTRU_44_DEPTH, mode=Mode.SUBTRACT)

    # Esquisse63 → Boss.-Extru.41 (add)
    with BuildSketch(Plane.XY.offset(3.25)):
        Polygon((18.745702434, -13.799997784), (19.209885387, -11.4), (10.5, -11.4), (10.5, -13.799997784), align=None)
        Polygon((-10.5, -13.79999967), (-10.5, -11.4), (-19.242181152, -11.4), (-18.829671445, -13.799997383), align=None)
    extrude(amount=BOSS_EXTRU_41_DEPTH)


solid = part.part
